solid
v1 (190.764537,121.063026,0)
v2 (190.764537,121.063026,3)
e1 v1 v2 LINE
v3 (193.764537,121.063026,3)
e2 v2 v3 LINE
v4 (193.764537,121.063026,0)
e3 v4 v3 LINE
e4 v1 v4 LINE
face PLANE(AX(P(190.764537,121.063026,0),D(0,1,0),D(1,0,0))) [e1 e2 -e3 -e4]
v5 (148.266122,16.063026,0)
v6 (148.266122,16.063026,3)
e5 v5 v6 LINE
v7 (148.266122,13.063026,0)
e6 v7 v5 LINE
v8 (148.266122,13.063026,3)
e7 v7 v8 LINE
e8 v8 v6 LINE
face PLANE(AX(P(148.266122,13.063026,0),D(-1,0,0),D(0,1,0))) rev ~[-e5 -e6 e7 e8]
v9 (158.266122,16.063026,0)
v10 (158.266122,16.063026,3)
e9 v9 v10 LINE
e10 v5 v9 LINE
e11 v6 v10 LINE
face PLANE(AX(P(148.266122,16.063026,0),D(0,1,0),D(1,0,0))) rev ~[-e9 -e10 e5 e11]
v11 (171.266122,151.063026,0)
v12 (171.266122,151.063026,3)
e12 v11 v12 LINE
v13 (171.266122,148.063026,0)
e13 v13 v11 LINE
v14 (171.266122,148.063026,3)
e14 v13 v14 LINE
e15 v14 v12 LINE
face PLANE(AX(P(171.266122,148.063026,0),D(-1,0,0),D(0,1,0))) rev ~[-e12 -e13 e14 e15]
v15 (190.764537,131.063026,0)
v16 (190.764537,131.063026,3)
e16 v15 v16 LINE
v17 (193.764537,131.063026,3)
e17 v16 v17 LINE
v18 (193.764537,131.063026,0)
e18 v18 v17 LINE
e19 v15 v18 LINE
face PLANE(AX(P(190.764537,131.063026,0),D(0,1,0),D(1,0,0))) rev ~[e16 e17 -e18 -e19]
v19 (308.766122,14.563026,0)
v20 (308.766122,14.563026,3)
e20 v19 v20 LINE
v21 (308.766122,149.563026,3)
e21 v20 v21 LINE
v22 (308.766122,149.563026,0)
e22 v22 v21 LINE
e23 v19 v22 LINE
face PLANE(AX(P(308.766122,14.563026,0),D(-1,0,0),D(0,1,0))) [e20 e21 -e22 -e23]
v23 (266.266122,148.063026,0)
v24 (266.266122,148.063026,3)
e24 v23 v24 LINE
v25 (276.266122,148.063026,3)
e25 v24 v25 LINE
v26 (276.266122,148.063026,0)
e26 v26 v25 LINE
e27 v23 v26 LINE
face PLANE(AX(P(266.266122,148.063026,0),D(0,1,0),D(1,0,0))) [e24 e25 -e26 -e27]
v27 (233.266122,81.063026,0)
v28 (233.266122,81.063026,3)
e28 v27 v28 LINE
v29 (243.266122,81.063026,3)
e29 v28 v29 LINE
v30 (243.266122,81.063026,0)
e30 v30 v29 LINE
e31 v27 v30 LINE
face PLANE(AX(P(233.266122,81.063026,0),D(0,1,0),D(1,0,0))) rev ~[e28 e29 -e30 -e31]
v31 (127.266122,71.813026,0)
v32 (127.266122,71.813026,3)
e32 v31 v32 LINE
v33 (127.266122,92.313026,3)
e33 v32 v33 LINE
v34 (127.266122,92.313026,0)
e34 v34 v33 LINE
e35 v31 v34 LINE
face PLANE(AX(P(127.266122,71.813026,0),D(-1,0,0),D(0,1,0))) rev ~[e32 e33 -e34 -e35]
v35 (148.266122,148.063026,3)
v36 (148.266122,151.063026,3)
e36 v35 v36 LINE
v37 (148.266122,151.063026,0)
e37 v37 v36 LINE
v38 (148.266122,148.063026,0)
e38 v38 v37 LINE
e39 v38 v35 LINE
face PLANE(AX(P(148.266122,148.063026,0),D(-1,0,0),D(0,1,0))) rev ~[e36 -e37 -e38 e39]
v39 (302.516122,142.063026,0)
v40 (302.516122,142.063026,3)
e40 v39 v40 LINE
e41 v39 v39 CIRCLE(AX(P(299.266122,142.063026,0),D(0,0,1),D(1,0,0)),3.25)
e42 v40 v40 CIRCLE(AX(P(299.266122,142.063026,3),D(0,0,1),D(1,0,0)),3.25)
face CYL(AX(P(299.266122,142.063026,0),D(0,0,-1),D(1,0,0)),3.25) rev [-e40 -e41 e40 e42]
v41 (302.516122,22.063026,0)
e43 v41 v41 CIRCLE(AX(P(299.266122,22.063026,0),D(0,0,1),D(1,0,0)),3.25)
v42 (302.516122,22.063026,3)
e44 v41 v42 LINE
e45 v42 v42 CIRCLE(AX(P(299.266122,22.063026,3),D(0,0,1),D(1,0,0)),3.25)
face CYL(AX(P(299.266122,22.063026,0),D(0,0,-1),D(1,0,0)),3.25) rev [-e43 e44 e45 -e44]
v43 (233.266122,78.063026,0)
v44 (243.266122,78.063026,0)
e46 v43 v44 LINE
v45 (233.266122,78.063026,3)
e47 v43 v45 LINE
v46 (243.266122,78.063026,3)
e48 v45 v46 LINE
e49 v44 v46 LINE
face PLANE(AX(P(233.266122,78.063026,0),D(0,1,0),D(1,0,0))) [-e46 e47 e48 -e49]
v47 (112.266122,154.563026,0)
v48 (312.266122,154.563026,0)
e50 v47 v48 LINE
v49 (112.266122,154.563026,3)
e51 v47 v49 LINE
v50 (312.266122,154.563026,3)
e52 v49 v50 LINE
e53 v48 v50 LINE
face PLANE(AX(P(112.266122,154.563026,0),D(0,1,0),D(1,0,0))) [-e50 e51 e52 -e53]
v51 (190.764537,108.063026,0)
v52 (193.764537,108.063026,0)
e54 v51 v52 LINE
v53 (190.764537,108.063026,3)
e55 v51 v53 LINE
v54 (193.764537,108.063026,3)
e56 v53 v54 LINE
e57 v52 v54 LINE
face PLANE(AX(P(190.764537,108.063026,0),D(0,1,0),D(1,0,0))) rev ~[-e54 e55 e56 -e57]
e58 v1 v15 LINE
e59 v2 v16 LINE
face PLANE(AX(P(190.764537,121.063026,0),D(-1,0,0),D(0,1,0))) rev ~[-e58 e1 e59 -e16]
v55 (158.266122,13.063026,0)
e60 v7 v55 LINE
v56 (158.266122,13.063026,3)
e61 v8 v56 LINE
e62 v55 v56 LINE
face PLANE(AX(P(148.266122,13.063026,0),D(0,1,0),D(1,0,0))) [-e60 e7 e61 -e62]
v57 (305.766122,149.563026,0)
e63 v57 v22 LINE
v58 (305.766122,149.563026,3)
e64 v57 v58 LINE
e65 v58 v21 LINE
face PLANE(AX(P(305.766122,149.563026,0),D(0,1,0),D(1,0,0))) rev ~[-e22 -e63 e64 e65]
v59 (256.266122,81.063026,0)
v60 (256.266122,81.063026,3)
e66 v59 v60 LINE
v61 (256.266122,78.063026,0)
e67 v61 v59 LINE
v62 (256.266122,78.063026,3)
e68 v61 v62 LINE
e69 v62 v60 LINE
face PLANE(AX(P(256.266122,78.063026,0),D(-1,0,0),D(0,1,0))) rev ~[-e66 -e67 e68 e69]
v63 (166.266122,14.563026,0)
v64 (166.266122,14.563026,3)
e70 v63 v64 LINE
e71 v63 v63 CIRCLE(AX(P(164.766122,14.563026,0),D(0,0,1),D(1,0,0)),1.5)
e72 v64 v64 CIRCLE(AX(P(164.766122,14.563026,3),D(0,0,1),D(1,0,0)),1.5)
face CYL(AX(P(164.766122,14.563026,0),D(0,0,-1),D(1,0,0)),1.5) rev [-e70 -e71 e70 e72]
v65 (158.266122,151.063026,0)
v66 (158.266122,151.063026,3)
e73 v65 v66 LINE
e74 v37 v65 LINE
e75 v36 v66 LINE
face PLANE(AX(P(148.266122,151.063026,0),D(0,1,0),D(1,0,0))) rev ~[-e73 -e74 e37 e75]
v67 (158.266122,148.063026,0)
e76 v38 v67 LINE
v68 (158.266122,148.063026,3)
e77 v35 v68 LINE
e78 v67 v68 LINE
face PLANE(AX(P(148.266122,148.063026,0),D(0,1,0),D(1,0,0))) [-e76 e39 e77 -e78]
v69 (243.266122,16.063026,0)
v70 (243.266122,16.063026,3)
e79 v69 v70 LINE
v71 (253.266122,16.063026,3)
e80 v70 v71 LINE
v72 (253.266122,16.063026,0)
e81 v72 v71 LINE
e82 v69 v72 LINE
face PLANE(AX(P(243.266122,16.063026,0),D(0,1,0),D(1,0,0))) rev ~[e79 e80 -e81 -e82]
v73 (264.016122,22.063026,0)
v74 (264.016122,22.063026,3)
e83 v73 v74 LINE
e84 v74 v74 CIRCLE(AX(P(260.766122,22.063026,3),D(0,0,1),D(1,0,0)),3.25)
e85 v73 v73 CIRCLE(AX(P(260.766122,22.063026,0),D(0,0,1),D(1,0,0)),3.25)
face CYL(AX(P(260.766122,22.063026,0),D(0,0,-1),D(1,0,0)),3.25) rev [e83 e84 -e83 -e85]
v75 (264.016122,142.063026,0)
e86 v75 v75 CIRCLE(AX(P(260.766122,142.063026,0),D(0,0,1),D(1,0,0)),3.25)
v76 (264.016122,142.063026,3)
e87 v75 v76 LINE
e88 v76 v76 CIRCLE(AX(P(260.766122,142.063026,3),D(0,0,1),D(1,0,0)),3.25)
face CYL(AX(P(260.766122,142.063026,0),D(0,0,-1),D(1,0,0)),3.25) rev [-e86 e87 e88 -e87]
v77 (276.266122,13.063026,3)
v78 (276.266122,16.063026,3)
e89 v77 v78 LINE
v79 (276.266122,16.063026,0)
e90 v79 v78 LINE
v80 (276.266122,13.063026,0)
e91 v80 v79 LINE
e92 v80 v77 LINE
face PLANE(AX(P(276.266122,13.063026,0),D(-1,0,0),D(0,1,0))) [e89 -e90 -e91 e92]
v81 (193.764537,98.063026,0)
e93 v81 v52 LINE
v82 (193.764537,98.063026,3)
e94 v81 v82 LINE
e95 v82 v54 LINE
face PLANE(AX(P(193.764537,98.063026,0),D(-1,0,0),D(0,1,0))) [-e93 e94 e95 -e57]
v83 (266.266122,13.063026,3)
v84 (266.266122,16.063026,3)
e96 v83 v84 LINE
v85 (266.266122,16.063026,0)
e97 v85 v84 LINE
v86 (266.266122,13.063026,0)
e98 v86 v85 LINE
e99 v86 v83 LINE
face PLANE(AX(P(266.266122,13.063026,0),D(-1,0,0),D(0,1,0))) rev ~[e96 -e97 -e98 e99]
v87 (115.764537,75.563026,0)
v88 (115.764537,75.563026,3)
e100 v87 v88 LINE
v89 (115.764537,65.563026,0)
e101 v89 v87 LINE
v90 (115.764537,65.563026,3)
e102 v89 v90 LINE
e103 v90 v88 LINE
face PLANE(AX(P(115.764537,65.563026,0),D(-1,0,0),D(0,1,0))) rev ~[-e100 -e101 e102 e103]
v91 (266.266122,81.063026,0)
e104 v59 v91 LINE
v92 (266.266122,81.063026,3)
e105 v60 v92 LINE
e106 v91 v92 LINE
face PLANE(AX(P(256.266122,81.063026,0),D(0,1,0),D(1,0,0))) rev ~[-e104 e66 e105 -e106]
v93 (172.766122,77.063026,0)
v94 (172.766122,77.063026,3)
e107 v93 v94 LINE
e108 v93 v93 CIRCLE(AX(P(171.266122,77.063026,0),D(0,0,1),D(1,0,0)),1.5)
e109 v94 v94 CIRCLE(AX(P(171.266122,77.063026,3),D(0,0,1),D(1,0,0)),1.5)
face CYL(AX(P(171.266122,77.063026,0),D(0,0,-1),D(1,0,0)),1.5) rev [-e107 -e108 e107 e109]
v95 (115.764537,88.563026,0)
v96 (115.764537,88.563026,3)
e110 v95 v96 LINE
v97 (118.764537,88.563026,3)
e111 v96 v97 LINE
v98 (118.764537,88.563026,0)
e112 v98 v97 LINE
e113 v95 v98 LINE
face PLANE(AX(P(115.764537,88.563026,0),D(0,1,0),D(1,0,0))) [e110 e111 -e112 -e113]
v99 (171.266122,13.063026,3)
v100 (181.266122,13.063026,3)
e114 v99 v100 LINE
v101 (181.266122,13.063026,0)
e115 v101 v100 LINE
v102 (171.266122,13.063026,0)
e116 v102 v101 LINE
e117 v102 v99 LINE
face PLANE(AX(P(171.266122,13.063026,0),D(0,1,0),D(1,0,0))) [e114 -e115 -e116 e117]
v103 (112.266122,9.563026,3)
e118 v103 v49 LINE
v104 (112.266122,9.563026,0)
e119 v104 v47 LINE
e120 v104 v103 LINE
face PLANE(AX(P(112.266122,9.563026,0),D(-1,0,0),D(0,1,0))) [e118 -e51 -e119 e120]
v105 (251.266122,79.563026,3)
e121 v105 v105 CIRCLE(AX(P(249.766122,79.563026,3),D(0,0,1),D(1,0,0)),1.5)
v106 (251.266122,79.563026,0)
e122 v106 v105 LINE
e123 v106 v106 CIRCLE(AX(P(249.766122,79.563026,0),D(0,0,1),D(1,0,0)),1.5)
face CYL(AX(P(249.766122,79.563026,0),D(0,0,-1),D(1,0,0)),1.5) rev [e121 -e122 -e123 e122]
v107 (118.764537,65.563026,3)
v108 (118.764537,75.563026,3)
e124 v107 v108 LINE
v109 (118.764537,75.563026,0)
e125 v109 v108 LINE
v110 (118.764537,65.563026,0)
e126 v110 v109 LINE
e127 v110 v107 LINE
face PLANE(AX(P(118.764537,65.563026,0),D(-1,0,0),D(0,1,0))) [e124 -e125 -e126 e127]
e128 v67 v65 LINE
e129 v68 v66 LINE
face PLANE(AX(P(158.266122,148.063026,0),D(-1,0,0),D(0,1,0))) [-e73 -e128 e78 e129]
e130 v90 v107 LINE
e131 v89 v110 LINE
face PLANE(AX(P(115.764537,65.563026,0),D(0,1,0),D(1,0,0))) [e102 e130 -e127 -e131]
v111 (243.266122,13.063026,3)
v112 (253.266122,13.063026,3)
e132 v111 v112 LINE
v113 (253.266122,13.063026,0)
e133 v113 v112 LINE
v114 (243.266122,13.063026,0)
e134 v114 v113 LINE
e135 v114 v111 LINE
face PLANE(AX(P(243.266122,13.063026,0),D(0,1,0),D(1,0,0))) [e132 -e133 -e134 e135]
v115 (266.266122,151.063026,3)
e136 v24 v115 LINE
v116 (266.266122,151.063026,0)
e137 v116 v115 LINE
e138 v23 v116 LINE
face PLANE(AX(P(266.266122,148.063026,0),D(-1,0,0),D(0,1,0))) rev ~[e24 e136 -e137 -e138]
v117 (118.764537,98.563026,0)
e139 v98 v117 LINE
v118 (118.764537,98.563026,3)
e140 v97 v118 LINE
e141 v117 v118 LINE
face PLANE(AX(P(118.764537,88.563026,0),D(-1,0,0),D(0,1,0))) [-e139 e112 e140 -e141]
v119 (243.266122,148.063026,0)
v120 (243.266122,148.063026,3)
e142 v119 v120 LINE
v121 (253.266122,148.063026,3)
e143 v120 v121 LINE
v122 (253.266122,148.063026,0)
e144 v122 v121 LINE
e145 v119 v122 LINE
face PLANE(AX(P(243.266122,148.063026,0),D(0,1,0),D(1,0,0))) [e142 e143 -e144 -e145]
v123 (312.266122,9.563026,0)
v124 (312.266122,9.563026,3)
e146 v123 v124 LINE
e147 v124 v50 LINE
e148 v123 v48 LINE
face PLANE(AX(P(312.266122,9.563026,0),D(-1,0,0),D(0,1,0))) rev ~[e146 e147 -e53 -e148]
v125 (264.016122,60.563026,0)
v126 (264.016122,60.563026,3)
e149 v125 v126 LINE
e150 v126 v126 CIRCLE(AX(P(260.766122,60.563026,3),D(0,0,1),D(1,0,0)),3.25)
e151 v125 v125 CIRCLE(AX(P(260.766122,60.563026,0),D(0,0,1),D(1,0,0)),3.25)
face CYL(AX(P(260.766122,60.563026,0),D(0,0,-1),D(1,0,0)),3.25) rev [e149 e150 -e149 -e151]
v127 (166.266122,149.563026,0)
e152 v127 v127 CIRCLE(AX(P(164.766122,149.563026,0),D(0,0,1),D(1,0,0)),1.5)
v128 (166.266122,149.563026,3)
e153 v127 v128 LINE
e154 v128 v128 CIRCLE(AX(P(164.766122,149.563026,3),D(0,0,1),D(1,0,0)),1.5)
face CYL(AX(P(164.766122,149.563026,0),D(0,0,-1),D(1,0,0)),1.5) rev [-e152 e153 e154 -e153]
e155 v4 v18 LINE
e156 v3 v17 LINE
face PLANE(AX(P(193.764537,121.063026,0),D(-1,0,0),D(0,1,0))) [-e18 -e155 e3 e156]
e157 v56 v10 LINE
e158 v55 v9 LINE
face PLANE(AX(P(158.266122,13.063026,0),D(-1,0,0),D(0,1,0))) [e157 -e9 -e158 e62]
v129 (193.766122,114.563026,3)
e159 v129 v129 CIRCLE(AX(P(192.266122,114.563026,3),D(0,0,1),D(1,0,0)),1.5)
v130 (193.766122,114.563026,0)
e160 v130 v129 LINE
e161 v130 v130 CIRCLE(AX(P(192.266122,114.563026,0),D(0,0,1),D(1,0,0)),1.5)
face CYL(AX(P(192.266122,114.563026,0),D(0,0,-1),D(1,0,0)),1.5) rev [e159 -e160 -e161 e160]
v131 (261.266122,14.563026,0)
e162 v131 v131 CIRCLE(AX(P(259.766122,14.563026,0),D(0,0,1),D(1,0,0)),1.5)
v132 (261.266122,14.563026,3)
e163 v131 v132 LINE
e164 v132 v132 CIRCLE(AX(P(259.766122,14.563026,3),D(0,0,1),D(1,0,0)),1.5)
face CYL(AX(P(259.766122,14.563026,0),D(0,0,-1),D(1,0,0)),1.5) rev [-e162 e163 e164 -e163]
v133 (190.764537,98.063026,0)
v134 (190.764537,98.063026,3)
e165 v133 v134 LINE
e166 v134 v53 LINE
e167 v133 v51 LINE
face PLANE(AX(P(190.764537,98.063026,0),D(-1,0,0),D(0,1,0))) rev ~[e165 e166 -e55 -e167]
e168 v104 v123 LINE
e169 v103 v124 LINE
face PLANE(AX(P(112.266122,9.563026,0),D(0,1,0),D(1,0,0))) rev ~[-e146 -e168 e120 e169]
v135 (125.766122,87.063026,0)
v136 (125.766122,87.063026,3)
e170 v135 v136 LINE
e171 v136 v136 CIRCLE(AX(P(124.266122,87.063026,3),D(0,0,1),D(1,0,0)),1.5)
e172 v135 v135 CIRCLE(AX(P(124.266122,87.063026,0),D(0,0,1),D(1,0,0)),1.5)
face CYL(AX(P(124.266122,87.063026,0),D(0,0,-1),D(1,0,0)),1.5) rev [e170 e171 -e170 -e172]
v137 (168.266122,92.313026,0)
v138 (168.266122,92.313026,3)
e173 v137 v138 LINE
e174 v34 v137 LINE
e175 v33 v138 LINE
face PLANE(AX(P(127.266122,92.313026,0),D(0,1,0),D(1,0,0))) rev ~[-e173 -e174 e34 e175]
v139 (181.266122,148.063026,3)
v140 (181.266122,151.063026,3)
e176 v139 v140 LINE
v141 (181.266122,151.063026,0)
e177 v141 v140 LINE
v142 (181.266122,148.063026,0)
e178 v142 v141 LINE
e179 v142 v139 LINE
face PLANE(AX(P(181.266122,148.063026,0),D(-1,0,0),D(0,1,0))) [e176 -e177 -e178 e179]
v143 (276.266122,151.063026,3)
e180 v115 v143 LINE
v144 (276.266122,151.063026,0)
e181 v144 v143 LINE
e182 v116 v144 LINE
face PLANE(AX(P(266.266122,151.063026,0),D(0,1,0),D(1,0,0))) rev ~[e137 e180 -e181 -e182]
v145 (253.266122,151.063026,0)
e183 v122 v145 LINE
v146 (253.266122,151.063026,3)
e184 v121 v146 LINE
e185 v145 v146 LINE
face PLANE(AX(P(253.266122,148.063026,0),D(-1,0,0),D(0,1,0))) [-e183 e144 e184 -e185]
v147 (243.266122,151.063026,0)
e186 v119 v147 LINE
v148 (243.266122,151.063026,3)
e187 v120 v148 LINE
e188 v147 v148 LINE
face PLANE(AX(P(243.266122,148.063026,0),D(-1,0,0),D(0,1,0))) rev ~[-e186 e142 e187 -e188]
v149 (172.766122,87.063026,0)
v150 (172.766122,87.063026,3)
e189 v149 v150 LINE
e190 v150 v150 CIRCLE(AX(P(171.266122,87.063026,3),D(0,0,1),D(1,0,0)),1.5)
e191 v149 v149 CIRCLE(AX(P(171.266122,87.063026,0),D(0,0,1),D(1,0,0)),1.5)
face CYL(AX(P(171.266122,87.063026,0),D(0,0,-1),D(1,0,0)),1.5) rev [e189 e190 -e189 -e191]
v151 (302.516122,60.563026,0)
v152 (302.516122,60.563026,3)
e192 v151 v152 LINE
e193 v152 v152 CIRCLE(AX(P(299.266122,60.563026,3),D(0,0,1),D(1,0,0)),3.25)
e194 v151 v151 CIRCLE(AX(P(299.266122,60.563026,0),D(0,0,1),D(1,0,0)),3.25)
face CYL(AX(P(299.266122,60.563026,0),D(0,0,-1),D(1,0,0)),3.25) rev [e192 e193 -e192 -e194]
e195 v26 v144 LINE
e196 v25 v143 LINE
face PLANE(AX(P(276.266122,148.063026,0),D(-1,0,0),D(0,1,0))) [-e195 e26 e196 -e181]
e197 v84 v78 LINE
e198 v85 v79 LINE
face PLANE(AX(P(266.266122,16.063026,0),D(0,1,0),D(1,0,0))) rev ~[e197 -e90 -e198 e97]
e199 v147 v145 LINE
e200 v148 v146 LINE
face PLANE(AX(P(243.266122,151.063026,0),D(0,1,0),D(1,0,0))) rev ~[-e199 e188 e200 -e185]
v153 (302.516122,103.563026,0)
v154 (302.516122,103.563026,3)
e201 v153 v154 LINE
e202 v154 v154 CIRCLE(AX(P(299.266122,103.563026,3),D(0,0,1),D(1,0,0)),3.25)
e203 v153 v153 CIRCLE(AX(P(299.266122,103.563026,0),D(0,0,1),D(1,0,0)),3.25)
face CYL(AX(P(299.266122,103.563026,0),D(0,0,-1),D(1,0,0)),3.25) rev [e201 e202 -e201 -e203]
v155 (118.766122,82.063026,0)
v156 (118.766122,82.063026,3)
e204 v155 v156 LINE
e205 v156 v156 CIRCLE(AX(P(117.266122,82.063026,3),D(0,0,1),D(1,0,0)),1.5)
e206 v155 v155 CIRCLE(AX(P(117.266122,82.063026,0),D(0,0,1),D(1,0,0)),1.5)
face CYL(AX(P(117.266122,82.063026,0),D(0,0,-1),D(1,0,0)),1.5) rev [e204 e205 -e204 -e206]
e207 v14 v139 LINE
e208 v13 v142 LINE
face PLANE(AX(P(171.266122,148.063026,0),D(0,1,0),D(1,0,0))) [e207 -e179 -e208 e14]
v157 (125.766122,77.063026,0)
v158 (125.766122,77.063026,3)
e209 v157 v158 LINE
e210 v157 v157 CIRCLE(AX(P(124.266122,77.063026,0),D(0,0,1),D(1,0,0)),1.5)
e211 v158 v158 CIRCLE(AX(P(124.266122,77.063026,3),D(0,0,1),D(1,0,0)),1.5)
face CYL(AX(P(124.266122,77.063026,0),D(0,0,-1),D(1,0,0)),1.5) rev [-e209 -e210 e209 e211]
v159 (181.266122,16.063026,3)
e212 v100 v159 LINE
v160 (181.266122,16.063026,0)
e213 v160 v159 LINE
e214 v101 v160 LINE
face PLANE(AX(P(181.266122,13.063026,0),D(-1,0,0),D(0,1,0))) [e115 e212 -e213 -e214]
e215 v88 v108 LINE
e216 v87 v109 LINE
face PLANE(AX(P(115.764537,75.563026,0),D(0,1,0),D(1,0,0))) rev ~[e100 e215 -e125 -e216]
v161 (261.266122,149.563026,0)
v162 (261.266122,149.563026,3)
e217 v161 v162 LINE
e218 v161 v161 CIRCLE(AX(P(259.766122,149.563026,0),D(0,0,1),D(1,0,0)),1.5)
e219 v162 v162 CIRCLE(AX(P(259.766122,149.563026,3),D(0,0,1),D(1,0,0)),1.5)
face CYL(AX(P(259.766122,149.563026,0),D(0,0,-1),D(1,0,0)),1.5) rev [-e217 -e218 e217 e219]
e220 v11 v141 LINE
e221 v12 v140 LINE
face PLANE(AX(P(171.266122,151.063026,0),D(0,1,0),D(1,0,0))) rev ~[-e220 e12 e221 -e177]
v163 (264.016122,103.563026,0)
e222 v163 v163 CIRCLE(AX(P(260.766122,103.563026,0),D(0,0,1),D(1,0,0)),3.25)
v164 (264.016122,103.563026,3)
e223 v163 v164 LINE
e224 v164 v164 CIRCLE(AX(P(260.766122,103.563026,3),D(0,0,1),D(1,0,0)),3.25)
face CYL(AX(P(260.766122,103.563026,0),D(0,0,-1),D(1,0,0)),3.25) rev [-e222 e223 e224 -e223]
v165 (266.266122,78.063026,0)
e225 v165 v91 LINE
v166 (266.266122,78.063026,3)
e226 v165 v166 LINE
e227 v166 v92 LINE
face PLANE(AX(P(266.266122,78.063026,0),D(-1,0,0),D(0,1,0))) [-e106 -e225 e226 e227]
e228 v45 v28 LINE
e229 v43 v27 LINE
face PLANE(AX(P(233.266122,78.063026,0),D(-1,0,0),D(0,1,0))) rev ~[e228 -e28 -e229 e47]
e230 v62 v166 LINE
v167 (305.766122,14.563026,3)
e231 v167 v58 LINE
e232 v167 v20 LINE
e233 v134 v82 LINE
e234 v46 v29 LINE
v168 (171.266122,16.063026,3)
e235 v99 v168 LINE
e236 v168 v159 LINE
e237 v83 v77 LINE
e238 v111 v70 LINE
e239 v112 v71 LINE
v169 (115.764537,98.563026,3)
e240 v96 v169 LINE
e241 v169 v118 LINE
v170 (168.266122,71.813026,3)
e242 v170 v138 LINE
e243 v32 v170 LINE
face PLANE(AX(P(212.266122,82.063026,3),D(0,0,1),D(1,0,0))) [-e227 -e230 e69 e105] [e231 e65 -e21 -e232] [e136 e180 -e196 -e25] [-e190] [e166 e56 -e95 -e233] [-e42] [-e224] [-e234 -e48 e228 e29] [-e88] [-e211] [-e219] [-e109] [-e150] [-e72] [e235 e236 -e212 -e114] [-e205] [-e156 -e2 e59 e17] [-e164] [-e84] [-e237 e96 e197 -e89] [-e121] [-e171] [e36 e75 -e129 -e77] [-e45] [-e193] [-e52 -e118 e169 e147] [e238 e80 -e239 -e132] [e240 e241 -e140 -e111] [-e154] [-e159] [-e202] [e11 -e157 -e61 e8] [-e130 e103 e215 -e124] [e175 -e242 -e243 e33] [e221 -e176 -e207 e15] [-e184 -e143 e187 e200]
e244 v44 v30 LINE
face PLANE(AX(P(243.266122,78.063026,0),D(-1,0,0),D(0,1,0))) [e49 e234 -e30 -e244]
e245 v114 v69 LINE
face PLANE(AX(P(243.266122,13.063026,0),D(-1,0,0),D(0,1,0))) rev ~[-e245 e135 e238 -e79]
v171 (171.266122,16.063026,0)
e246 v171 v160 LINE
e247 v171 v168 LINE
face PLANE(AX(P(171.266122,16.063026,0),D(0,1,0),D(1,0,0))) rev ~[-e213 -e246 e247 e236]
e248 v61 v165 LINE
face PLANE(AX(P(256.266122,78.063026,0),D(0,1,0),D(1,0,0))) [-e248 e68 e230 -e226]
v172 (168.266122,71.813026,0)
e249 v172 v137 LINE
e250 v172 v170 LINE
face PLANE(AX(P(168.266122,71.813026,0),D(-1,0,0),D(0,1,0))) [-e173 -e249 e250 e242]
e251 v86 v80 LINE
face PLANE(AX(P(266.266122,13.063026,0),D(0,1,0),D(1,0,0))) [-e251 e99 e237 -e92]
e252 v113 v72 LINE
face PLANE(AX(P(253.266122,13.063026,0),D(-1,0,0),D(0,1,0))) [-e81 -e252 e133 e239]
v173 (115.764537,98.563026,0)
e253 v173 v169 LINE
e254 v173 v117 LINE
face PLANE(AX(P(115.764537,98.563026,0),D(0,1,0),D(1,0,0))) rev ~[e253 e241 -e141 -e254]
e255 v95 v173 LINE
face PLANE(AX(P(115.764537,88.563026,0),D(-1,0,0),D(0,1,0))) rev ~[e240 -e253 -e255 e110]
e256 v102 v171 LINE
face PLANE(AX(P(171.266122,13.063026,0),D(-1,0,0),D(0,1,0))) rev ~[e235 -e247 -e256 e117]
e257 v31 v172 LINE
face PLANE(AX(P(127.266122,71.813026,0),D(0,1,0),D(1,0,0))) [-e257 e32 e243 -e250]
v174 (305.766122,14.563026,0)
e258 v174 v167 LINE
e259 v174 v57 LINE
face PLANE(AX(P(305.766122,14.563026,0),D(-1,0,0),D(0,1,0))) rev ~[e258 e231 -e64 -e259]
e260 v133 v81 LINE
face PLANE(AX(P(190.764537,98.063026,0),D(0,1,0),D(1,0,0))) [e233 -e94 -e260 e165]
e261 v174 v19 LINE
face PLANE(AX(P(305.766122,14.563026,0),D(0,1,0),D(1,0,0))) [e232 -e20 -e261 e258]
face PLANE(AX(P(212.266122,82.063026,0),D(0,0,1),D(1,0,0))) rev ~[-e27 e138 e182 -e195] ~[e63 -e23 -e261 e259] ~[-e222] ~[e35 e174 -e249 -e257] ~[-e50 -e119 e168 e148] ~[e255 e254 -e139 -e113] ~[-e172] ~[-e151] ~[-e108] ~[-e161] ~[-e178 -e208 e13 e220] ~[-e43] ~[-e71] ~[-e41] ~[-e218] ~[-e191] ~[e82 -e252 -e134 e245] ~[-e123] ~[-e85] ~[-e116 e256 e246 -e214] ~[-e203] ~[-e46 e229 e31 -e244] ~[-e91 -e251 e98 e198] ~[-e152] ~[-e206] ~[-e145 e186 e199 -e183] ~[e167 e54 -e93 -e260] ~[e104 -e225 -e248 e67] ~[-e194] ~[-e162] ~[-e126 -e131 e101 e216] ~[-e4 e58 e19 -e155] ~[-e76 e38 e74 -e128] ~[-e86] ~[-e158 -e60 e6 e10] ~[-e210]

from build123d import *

# Parameters (mm, degrees)
F0_W     = 200
F0_H     = 145
F0_W_2   = 10
F0_H_2   = 3
F0_R     = 1.5
F0_W_3   = 3
F0_H_3   = 10
F0_R_2   = 3.25
F0_H_4   = 135
F0_W_4   = 41
F0_H_5   = 20.5
F1_DEPTH = 3


with BuildPart() as f1:
    # F0 (on Top) → F1 (new body)
    with BuildSketch(Plane.XY):
        with Locations((212.266122, 82.063026)):
            Rectangle(F0_W, F0_H)
        with Locations((153.266122, 14.563026)):
            Rectangle(F0_W_2, F0_H_2, mode=Mode.SUBTRACT)
        with Locations((164.766122, 14.563026)):
            Circle(F0_R, mode=Mode.SUBTRACT)
        with Locations((176.266122, 14.563026)):
            Rectangle(F0_W_2, F0_H_2, mode=Mode.SUBTRACT)
        with Locations((117.264537, 70.563026)):
            Rectangle(F0_W_3, F0_H_3, mode=Mode.SUBTRACT)
        with Locations((124.266122, 77.063026)):
            Circle(F0_R, mode=Mode.SUBTRACT)
        with Locations((171.266122, 77.063026)):
            Circle(F0_R, mode=Mode.SUBTRACT)
        with Locations((248.266122, 14.563026)):
            Rectangle(F0_W_2, F0_H_2, mode=Mode.SUBTRACT)
        with Locations((259.766122, 14.563026)):
            Circle(F0_R, mode=Mode.SUBTRACT)
        with Locations((260.766122, 22.063026)):
            Circle(F0_R_2, mode=Mode.SUBTRACT)
        with Locations((271.266122, 14.563026)):
            Rectangle(F0_W_2, F0_H_2, mode=Mode.SUBTRACT)
        with Locations((299.266122, 22.063026)):
            Circle(F0_R_2, mode=Mode.SUBTRACT)
        with Locations((260.766122, 60.563026)):
            Circle(F0_R_2, mode=Mode.SUBTRACT)
        with Locations((238.266122, 79.563026)):
            Rectangle(F0_W_2, F0_H_2, mode=Mode.SUBTRACT)
        with Locations((249.766122, 79.563026)):
            Circle(F0_R, mode=Mode.SUBTRACT)
        with Locations((261.266122, 79.563026)):
            Rectangle(F0_W_2, F0_H_2, mode=Mode.SUBTRACT)
        with Locations((299.266122, 60.563026)):
            Circle(F0_R_2, mode=Mode.SUBTRACT)
        with Locations((307.266122, 82.063026)):
            Rectangle(F0_W_3, F0_H_4, mode=Mode.SUBTRACT)
        with Locations((117.266122, 82.063026)):
            Circle(F0_R, mode=Mode.SUBTRACT)
        with Locations((124.266122, 87.063026)):
            Circle(F0_R, mode=Mode.SUBTRACT)
        with Locations((117.264537, 93.563026)):
            Rectangle(F0_W_3, F0_H_3, mode=Mode.SUBTRACT)
        with Locations((147.766122, 82.063026)):
            Rectangle(F0_W_4, F0_H_5, mode=Mode.SUBTRACT)
        with Locations((171.266122, 87.063026)):
            Circle(F0_R, mode=Mode.SUBTRACT)
        with Locations((192.264537, 103.063026)):
            Rectangle(F0_W_3, F0_H_3, mode=Mode.SUBTRACT)
        with Locations((192.266122, 114.563026)):
            Circle(F0_R, mode=Mode.SUBTRACT)
        with Locations((153.266122, 149.563026)):
            Rectangle(F0_W_2, F0_H_2, mode=Mode.SUBTRACT)
        with Locations((192.264537, 126.063026)):
            Rectangle(F0_W_3, F0_H_3, mode=Mode.SUBTRACT)
        with Locations((164.766122, 149.563026)):
            Circle(F0_R, mode=Mode.SUBTRACT)
        with Locations((176.266122, 149.563026)):
            Rectangle(F0_W_2, F0_H_2, mode=Mode.SUBTRACT)
        with Locations((260.766122, 103.563026)):
            Circle(F0_R_2, mode=Mode.SUBTRACT)
        with Locations((299.266122, 103.563026)):
            Circle(F0_R_2, mode=Mode.SUBTRACT)
        with Locations((260.766122, 142.063026)):
            Circle(F0_R_2, mode=Mode.SUBTRACT)
        with Locations((248.266122, 149.563026)):
            Rectangle(F0_W_2, F0_H_2, mode=Mode.SUBTRACT)
        with Locations((259.766122, 149.563026)):
            Circle(F0_R, mode=Mode.SUBTRACT)
        with Locations((271.266122, 149.563026)):
            Rectangle(F0_W_2, F0_H_2, mode=Mode.SUBTRACT)
        with Locations((299.266122, 142.063026)):
            Circle(F0_R_2, mode=Mode.SUBTRACT)
    extrude(amount=F1_DEPTH)


solid = f1.part
